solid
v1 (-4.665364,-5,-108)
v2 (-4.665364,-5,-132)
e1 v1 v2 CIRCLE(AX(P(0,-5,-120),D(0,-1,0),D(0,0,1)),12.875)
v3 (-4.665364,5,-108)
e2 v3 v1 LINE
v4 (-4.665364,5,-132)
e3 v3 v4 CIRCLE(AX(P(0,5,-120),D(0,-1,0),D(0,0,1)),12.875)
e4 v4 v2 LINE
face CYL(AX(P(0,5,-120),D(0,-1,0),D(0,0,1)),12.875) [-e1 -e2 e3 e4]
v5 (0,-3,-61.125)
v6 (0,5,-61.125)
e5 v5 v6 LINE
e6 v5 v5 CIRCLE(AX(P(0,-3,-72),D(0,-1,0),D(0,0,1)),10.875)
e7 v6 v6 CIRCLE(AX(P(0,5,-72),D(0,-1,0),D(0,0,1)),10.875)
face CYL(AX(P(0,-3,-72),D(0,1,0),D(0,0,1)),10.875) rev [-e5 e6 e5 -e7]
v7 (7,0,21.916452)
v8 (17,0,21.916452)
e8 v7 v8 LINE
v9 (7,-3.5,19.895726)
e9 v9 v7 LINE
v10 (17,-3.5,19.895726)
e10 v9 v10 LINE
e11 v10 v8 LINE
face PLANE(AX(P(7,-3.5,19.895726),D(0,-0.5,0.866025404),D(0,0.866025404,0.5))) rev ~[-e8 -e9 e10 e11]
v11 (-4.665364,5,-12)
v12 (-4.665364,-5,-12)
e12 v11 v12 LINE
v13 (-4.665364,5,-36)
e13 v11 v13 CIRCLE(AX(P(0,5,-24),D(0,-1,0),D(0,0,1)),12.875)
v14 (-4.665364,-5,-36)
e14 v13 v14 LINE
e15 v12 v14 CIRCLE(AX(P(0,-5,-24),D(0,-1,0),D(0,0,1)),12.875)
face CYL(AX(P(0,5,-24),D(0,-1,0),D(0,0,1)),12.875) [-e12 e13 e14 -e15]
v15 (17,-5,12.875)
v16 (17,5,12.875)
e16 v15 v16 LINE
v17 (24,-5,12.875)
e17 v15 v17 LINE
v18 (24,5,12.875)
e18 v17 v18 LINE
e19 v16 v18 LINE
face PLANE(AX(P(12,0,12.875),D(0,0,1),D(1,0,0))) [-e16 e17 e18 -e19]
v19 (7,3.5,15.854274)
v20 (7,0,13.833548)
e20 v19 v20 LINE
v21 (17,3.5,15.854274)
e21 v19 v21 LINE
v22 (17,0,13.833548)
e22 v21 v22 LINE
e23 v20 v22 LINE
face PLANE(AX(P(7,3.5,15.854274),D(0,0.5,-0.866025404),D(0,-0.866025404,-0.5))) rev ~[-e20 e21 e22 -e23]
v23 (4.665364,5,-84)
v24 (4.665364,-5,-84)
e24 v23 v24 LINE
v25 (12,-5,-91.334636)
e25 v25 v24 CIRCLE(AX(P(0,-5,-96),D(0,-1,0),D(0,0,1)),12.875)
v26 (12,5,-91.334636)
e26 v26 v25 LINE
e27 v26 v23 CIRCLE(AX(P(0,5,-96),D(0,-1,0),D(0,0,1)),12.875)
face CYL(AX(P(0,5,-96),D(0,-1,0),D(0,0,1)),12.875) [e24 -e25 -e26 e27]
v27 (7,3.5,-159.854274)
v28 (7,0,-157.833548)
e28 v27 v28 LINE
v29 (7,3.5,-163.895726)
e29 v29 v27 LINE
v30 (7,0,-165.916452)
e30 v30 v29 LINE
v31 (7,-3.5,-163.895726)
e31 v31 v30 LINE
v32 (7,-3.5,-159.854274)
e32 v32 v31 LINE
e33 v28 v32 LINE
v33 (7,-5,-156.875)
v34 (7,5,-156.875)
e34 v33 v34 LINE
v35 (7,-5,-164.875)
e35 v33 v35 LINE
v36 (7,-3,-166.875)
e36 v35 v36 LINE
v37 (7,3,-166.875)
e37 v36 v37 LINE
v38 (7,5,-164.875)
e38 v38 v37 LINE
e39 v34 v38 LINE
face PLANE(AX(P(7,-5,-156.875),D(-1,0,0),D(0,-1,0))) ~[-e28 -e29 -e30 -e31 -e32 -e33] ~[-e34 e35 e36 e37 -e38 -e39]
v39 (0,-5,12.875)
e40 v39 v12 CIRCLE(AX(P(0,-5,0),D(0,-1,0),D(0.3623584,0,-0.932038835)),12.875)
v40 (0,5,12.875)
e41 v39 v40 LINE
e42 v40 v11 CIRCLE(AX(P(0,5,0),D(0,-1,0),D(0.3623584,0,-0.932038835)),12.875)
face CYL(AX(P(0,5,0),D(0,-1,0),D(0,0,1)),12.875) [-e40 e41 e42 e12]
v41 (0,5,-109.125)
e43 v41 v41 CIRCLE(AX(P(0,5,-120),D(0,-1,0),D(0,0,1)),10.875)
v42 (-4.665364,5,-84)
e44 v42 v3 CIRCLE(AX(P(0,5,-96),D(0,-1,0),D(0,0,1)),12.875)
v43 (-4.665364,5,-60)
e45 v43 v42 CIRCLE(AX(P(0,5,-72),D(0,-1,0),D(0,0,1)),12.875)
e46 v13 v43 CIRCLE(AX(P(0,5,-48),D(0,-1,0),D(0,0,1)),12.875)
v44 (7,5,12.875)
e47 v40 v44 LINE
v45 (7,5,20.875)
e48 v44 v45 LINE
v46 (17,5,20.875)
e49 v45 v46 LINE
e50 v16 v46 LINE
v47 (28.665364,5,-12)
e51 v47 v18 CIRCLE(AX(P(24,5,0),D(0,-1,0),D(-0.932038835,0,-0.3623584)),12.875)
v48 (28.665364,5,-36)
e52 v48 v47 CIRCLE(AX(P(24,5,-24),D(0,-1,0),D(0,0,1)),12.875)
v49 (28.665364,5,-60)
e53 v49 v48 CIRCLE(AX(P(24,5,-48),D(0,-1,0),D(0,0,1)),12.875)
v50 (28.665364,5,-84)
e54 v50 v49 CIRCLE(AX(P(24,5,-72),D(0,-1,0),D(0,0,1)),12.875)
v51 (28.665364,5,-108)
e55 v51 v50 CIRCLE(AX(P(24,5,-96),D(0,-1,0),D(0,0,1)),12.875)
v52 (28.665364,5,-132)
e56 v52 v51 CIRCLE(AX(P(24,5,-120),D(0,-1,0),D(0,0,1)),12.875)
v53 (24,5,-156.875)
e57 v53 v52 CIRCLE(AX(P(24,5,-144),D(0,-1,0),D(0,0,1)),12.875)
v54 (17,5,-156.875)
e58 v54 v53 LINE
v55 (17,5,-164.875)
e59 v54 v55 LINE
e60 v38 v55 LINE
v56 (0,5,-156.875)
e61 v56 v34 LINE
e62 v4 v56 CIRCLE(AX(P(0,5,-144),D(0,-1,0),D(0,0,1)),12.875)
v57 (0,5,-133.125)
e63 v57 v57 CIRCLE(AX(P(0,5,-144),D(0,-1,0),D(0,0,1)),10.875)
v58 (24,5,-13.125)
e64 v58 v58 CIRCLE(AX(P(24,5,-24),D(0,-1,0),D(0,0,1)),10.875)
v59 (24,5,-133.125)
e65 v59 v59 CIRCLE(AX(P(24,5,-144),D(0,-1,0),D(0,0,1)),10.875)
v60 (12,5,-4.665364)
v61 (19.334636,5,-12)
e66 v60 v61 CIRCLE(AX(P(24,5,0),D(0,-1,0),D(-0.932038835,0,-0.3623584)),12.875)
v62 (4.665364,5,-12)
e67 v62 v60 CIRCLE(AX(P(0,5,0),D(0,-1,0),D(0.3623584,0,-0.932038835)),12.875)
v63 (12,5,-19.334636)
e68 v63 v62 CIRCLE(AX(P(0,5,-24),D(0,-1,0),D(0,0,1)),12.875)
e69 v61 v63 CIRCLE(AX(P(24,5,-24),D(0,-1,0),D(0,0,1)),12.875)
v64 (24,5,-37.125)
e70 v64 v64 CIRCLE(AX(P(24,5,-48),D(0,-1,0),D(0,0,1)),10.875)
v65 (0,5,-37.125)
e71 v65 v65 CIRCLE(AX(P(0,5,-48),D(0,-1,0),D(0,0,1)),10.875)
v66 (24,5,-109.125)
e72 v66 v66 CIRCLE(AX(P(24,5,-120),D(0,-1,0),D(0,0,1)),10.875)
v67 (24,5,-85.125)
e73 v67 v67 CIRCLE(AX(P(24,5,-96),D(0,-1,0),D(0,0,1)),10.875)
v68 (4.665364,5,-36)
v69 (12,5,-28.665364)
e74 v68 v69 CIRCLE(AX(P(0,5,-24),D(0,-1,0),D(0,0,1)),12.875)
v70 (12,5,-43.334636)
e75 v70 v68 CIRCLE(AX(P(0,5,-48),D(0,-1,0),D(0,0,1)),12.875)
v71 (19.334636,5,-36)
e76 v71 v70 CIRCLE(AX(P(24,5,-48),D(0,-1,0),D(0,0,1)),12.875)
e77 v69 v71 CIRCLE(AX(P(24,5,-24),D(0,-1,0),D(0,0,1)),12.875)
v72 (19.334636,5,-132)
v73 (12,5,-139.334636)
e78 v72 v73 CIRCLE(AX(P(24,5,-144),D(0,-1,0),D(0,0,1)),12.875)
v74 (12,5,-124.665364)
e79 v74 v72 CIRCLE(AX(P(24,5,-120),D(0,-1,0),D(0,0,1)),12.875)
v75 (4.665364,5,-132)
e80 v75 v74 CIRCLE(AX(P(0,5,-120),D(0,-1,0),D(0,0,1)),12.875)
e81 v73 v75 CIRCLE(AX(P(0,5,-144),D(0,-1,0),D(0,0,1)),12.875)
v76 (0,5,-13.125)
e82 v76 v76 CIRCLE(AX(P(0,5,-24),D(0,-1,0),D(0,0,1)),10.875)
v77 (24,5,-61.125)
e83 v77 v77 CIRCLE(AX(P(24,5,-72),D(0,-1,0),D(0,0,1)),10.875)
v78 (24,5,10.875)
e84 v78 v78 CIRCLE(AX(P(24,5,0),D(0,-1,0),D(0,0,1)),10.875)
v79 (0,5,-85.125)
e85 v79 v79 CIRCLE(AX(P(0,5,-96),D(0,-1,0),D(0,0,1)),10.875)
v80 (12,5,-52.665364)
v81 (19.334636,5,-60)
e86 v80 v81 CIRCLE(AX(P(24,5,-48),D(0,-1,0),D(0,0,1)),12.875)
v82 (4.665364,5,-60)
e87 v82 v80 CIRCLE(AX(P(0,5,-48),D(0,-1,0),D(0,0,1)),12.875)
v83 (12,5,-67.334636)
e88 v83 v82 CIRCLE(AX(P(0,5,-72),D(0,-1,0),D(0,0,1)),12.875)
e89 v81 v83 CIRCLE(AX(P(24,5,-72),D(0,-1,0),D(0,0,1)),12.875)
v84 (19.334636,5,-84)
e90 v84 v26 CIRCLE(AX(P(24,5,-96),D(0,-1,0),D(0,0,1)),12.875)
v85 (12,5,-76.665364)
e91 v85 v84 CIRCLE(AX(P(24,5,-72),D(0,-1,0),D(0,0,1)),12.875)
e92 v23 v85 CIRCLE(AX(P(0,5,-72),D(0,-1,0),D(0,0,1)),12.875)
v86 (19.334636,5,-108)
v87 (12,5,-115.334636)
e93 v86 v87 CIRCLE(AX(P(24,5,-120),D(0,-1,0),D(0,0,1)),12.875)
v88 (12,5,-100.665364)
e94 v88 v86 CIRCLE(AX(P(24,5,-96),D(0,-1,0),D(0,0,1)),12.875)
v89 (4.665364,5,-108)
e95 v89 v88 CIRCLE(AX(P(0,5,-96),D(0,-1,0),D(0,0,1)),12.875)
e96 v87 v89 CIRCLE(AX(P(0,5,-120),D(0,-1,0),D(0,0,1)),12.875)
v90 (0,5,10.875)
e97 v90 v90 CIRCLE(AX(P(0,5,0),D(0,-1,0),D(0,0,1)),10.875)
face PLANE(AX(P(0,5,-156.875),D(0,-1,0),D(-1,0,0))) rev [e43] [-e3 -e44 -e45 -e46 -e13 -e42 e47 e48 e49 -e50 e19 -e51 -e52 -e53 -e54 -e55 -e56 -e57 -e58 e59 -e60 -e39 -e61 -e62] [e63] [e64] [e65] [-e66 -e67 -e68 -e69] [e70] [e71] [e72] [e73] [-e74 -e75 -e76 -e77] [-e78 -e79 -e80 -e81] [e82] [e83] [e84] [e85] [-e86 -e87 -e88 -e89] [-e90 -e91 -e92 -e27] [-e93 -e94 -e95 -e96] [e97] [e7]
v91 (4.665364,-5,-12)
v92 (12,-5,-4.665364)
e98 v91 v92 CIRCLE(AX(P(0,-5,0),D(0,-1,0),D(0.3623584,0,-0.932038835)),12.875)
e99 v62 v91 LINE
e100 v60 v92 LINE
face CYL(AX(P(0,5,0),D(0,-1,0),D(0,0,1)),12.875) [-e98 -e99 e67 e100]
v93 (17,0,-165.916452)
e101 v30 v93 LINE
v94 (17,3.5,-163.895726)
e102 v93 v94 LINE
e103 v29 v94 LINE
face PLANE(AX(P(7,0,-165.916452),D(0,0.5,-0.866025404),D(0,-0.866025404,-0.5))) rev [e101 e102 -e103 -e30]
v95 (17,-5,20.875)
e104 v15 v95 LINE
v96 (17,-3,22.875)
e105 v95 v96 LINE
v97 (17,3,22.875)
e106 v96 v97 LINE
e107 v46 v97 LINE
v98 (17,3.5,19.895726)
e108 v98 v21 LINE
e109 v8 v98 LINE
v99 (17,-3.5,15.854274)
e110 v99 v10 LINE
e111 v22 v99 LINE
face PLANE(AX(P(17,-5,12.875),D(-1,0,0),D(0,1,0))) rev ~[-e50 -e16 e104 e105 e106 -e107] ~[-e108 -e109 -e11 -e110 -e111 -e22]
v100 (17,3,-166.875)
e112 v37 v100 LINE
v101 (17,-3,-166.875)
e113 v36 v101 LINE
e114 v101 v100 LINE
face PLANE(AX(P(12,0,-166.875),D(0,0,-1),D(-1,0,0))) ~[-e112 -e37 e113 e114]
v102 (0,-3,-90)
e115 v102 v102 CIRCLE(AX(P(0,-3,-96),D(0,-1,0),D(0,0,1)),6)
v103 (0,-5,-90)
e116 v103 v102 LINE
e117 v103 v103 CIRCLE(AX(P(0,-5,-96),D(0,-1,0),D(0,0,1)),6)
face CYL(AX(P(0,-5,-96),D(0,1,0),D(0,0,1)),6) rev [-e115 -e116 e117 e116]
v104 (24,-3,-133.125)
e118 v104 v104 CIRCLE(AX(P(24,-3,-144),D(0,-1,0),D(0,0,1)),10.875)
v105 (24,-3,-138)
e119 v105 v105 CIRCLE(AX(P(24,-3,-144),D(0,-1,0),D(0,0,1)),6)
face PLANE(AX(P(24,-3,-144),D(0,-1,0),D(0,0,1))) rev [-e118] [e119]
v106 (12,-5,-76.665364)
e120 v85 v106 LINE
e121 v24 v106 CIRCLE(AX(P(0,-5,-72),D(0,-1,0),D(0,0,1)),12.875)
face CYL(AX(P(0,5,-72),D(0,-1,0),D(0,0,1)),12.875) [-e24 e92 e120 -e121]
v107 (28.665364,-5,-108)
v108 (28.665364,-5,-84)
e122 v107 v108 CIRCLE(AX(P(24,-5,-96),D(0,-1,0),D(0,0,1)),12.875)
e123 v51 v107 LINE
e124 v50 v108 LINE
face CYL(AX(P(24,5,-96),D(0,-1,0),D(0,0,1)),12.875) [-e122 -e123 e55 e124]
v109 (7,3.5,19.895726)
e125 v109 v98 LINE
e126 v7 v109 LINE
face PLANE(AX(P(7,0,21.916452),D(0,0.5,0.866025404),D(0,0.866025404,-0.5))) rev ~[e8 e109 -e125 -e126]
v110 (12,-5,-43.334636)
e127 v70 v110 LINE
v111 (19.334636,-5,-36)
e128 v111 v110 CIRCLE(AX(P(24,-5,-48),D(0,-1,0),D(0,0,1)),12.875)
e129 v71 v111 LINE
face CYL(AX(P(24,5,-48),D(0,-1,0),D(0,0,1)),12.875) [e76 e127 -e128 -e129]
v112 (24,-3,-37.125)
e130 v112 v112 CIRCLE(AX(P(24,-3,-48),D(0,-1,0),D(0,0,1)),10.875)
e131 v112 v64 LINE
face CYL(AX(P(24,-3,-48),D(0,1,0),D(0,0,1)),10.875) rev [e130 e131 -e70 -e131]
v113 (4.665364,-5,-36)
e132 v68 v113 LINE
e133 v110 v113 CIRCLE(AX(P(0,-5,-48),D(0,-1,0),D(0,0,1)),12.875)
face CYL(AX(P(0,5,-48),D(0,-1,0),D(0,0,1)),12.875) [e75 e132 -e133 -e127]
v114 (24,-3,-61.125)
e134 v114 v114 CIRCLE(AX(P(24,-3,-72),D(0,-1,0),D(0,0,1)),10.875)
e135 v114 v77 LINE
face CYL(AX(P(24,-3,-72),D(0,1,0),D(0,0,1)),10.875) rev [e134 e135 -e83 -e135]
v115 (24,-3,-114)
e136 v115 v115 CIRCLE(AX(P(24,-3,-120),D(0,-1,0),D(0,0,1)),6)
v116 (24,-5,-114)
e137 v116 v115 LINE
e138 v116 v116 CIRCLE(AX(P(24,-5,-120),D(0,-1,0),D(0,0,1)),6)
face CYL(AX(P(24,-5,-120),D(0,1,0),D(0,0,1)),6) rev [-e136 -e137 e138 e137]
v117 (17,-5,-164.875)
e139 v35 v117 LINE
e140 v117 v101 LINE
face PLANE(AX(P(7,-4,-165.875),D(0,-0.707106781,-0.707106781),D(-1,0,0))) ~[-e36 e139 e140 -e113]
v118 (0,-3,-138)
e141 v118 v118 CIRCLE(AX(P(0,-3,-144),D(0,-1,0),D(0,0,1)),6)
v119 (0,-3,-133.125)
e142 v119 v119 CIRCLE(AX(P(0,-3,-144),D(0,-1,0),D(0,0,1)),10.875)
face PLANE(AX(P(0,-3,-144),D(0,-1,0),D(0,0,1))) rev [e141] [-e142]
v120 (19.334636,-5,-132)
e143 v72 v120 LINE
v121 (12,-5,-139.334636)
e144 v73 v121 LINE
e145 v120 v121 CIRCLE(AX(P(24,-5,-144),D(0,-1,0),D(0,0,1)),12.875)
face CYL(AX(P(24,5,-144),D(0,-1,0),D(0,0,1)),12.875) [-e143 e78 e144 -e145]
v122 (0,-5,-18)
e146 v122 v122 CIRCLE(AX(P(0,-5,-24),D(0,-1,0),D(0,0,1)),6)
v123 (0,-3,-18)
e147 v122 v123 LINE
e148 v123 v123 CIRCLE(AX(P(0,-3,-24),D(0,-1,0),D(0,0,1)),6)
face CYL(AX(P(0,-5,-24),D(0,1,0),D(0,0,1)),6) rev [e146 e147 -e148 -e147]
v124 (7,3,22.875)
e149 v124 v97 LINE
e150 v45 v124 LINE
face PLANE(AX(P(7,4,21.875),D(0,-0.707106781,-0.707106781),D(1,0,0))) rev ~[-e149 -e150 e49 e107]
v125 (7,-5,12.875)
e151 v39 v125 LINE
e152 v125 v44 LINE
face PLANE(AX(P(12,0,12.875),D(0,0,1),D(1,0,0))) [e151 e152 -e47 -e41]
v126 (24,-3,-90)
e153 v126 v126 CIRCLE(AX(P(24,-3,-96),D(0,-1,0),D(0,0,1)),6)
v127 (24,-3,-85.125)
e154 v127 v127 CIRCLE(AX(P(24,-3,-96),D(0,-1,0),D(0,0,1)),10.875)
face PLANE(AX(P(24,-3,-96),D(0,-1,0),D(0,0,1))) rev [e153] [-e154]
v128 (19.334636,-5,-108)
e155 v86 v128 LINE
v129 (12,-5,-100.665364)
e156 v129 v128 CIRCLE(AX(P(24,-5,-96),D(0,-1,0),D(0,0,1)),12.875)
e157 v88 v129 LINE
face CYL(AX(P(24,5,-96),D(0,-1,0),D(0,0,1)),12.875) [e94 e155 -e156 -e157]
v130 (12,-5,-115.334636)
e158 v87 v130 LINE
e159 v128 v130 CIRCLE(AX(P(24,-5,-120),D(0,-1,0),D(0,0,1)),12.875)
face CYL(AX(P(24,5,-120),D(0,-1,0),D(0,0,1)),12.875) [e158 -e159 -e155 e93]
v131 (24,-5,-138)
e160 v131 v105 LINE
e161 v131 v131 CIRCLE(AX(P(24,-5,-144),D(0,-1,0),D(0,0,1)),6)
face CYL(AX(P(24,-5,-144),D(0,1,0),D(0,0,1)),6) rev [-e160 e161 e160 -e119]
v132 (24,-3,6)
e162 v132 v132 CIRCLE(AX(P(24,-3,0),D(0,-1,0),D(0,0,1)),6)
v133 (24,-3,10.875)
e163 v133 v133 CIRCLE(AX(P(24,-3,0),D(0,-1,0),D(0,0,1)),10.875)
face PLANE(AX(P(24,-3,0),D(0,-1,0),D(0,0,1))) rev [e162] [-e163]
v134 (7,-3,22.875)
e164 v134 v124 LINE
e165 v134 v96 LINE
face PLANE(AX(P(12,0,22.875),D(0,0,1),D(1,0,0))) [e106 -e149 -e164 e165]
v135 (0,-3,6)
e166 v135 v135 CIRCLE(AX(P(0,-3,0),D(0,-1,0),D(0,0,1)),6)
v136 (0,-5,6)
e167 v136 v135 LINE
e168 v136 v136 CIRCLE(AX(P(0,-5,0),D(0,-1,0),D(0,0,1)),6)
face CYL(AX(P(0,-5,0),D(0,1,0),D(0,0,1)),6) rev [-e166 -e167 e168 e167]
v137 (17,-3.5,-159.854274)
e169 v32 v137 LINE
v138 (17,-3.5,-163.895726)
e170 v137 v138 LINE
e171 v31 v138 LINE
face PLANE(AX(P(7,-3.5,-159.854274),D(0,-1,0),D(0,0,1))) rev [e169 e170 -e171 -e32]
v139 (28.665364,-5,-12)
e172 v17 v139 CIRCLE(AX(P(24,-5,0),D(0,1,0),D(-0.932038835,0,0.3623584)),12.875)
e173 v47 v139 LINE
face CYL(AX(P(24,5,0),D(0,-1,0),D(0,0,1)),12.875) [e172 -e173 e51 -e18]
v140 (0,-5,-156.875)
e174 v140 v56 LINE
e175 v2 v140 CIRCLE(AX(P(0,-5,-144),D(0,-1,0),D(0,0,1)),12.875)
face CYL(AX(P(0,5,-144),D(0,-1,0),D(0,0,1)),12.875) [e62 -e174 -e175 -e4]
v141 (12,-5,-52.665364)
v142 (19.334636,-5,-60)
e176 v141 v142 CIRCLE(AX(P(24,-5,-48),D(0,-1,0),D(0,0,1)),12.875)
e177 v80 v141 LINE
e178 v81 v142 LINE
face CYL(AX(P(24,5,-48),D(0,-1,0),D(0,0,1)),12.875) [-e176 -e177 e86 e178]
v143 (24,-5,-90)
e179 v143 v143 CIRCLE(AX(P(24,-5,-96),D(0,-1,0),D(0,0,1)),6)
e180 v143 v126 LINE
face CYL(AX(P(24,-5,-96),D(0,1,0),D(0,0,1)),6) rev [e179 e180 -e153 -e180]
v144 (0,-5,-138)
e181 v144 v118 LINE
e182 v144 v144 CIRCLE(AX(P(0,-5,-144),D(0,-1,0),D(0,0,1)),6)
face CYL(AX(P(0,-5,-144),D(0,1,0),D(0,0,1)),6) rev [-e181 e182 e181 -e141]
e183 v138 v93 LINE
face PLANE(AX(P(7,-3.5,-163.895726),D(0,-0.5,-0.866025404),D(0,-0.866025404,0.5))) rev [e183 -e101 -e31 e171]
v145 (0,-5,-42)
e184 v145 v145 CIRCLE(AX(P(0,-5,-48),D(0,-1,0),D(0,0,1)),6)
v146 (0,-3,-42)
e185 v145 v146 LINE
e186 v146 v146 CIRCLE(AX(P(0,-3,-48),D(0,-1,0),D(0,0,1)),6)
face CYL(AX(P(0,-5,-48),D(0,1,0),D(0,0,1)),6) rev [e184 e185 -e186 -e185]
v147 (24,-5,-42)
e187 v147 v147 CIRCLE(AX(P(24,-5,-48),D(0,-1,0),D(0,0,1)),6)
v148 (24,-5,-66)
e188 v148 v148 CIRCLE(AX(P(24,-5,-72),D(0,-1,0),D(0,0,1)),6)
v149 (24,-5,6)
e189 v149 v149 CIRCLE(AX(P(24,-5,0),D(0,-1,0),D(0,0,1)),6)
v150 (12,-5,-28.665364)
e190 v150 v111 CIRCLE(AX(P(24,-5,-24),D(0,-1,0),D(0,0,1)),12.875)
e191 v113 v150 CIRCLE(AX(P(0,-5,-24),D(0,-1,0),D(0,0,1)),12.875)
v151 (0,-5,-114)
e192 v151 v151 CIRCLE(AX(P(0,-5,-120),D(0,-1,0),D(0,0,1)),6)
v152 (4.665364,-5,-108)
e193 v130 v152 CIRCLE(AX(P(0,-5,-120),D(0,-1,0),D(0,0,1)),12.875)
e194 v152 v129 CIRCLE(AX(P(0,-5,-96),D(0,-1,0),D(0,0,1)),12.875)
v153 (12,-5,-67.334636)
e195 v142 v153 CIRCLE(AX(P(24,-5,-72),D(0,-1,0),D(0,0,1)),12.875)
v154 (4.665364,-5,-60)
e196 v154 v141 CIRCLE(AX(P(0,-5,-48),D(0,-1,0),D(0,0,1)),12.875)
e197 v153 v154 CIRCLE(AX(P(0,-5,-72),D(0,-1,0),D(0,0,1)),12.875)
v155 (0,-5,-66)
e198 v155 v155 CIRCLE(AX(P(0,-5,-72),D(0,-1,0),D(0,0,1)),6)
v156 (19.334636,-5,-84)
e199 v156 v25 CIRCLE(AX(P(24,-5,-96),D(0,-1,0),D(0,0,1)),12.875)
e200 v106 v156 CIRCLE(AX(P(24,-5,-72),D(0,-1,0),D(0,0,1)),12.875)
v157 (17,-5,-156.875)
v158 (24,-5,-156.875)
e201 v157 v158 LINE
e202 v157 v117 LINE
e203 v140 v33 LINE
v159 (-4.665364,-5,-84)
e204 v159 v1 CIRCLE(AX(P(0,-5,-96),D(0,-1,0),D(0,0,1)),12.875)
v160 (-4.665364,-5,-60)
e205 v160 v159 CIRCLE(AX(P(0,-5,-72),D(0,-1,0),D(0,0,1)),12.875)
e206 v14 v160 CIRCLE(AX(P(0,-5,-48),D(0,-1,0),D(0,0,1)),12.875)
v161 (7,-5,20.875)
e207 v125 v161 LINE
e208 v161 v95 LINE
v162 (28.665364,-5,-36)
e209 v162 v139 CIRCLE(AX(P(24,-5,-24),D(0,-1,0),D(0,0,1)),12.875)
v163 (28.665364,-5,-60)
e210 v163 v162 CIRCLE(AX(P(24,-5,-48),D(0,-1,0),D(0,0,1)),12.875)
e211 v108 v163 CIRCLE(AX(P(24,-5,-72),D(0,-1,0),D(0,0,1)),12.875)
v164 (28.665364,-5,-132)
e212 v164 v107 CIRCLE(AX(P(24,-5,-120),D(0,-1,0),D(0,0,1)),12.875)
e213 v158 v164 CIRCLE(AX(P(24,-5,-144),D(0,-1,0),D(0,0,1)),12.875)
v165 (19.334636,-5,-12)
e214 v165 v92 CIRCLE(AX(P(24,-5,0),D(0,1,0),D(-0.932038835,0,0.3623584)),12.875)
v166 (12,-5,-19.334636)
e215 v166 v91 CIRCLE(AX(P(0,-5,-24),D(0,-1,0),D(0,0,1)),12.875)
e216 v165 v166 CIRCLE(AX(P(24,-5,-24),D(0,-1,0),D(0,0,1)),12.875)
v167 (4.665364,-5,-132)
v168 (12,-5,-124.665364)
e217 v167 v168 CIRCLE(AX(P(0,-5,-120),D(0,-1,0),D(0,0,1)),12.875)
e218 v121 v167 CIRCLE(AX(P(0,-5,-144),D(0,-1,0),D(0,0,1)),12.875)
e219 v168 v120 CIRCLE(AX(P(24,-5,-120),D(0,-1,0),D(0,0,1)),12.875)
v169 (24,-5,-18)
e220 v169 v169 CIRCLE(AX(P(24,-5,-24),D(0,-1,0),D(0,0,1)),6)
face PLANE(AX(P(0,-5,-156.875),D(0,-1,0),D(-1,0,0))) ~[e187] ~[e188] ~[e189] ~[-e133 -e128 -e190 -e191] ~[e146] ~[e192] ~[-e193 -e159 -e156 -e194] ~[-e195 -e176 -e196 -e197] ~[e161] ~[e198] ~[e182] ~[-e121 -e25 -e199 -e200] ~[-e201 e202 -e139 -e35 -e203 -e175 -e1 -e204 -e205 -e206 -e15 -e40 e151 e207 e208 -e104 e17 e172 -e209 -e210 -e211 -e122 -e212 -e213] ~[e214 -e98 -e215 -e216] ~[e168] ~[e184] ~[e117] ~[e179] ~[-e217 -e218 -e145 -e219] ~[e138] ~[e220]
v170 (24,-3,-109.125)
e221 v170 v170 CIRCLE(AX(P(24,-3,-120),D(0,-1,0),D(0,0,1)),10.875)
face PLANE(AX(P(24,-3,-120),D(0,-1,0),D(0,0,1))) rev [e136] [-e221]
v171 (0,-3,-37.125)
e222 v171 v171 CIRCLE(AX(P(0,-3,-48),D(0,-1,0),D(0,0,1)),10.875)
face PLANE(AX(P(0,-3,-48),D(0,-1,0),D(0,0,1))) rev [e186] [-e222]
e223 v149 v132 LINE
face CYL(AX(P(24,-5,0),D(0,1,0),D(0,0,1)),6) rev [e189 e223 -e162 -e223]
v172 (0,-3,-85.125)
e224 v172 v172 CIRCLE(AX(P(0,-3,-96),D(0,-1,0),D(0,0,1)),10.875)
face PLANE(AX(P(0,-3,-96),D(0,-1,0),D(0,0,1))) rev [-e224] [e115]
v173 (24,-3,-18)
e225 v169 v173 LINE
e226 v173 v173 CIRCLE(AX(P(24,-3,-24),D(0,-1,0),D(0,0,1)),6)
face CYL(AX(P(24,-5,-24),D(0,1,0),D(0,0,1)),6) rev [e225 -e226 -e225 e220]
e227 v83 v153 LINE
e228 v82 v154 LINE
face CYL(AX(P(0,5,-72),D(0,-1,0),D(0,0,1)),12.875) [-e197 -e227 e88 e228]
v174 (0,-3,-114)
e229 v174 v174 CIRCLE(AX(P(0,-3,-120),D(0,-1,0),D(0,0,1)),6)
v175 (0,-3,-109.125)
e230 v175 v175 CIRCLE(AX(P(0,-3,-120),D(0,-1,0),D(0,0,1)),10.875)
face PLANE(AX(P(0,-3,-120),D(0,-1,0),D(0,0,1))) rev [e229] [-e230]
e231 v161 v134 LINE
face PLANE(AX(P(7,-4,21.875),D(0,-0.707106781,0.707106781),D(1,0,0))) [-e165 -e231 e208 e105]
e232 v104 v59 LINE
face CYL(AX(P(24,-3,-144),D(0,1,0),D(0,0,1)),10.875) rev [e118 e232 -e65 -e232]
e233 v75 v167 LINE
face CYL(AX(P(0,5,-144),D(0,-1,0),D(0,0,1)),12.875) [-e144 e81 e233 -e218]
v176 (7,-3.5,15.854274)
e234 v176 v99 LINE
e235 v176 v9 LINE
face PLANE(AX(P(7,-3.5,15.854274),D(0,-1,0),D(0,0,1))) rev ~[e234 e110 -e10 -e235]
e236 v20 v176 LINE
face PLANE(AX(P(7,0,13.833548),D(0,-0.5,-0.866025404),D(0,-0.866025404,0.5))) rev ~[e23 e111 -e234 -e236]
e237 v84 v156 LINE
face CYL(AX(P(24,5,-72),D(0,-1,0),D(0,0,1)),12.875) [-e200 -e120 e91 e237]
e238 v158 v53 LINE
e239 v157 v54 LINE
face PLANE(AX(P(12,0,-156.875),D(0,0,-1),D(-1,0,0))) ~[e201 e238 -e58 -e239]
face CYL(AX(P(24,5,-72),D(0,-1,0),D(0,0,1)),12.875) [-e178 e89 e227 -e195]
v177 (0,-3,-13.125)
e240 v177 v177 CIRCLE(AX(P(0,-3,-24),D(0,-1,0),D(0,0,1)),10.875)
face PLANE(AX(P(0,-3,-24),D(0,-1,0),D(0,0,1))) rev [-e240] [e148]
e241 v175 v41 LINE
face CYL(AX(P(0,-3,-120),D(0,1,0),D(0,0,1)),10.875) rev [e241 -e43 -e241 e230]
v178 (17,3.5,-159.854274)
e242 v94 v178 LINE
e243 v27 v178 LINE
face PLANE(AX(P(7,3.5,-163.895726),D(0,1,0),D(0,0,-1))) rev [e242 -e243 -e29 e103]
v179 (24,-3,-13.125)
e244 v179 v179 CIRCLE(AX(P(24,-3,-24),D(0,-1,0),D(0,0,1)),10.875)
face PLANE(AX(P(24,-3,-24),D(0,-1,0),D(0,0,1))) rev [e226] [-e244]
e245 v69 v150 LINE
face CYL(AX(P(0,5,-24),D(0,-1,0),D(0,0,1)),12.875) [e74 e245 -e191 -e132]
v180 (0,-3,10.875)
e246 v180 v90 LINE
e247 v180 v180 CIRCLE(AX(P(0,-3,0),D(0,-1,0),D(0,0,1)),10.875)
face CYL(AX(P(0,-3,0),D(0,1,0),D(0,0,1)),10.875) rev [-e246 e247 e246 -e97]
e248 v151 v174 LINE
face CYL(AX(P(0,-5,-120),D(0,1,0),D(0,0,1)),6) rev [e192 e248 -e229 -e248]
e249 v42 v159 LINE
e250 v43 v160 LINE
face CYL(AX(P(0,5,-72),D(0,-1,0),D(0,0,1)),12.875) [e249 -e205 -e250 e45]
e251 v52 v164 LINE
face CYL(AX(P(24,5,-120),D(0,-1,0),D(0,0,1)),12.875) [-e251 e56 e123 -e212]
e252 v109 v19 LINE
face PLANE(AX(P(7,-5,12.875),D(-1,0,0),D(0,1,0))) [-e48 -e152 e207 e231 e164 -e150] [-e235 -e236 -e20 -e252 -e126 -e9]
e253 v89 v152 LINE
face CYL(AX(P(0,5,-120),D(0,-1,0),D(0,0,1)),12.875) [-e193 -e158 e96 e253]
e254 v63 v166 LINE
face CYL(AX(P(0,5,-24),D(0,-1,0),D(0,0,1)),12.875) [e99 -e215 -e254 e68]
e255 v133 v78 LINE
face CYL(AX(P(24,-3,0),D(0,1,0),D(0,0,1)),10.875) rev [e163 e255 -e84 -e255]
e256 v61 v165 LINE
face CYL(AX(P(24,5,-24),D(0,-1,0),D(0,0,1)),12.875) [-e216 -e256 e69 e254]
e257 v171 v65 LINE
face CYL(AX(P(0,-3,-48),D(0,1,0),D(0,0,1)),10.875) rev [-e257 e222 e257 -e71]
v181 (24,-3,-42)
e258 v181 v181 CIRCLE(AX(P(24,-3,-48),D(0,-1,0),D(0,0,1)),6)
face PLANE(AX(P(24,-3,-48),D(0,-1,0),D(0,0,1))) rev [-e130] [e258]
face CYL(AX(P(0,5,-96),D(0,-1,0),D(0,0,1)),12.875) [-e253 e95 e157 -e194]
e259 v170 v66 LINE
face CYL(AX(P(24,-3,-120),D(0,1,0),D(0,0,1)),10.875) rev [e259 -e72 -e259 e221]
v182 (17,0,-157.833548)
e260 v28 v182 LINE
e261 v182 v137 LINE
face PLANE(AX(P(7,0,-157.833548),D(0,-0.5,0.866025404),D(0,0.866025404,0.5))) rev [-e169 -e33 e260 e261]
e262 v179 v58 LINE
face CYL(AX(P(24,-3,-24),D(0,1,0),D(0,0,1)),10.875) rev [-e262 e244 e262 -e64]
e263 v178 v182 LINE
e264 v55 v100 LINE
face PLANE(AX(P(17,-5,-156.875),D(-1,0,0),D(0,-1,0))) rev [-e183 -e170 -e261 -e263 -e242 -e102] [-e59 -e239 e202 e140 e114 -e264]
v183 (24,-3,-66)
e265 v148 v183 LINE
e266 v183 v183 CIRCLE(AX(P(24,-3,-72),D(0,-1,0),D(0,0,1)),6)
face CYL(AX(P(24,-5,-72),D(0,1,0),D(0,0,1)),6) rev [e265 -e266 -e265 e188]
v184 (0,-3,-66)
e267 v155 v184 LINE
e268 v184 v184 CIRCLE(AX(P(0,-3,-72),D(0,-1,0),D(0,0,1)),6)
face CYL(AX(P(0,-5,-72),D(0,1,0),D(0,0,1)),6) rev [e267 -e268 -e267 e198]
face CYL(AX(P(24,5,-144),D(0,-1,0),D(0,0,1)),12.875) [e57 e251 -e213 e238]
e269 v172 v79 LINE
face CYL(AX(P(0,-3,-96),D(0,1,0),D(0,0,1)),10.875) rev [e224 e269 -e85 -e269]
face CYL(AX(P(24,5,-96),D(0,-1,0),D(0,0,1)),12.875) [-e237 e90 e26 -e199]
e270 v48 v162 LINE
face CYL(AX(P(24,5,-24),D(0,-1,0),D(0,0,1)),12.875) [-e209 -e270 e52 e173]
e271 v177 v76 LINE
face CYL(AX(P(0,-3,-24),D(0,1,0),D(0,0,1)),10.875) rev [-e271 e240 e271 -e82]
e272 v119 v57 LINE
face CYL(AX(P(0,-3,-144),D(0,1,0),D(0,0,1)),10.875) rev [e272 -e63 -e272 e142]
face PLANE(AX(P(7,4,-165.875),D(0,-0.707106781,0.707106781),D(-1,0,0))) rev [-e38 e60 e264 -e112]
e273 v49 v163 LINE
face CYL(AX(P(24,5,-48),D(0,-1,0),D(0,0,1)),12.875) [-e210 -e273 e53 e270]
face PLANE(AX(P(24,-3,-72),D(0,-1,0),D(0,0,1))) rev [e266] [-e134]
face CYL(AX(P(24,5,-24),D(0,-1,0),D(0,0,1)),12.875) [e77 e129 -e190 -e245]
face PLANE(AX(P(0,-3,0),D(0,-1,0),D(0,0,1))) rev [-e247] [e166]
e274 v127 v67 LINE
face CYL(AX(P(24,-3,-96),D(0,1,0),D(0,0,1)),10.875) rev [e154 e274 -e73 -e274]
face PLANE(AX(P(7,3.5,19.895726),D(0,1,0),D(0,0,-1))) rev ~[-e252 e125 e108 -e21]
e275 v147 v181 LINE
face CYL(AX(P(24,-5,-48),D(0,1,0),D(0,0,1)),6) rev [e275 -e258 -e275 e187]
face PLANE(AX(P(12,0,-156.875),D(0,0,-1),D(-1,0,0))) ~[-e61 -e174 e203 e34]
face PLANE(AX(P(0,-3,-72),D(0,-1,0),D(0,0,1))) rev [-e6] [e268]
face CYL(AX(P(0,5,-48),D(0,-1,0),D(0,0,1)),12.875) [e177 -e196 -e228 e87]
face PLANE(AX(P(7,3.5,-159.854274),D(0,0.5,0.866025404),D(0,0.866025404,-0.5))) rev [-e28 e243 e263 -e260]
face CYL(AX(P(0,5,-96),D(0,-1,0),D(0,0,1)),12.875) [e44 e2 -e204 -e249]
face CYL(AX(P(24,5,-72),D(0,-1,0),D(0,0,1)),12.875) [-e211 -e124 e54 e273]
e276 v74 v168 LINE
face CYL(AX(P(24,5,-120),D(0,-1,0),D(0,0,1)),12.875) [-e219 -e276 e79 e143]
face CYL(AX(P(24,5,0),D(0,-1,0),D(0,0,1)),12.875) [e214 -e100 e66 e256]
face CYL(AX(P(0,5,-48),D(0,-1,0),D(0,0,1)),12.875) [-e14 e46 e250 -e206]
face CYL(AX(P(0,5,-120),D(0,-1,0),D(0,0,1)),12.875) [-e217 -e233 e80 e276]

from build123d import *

# Parameters (mm, degrees)
LPATTERN1_COUNT          = 7
LPATTERN1_PITCH          = 24
LPATTERN2_COUNT          = 2
LPATTERN2_PITCH          = 24
BOSS_EXTRUDE1_REACH      = 175.781
SKETCH4_W                = 24
SKETCH4_H                = 10
SKETCH5_W                = 10
SKETCH5_H                = 10
BOSS_EXTRUDE2_DEPTH      = 10
CUT_EXTRUDE1_DEPTH       = 10
CHAMFER3_SIZE            = 2
CHAMFER3_OF_MIRROR2_SIZE = 2


with BuildPart() as part:
    # Sketch1 → Revolve1 (revolve)
    with BuildSketch(Plane(origin=(0, 0, 0), x_dir=(0, 0, -1), z_dir=(1, 0, 0))):
        Polygon((-12.875, 5), (-12.875, -5), (-6, -5), (-6, -3), (-10.875, -3), (-10.875, 5), align=None)
    revolve1 = revolve(axis=Axis((0, 27.077205882, 0), (0, -1, 0)))

    # LPattern1: Revolve1 ×7
    with Locations(*[(0, 0, -i * LPATTERN1_PITCH) for i in range(1, LPATTERN1_COUNT)]):
        add(revolve1)

    # LPattern2: Revolve1 ×2
    with Locations(*[(i * LPATTERN2_PITCH, 0, 0) for i in range(1, LPATTERN2_COUNT)]):
        add(revolve1)

    # LPattern2 copy 1 sketch → LPattern2 copy 1 (revolve)
    with BuildSketch(Plane(origin=(24, 0, -24), x_dir=(0, 0, -1), z_dir=(1, 0, 0))):
        Polygon((-12.875, 5), (-12.875, -5), (-6, -5), (-6, -3), (-10.875, -3), (-10.875, 5), align=None)
    revolve(axis=Axis((24, 27.077205882, -24), (0, -1, 0)))

    # LPattern2 copy 2 sketch → LPattern2 copy 2 (revolve)
    with BuildSketch(Plane(origin=(24, 0, -48), x_dir=(0, 0, -1), z_dir=(1, 0, 0))):
        Polygon((-12.875, 5), (-12.875, -5), (-6, -5), (-6, -3), (-10.875, -3), (-10.875, 5), align=None)
    revolve(axis=Axis((24, 27.077205882, -48), (0, -1, 0)))

    # LPattern2 copy 3 sketch → LPattern2 copy 3 (revolve)
    with BuildSketch(Plane(origin=(24, 0, -72), x_dir=(0, 0, -1), z_dir=(1, 0, 0))):
        Polygon((-12.875, 5), (-12.875, -5), (-6, -5), (-6, -3), (-10.875, -3), (-10.875, 5), align=None)
    revolve(axis=Axis((24, 27.077205882, -72), (0, -1, 0)))

    # LPattern2 copy 4 sketch → LPattern2 copy 4 (revolve)
    with BuildSketch(Plane(origin=(24, 0, -96), x_dir=(0, 0, -1), z_dir=(1, 0, 0))):
        Polygon((-12.875, 5), (-12.875, -5), (-6, -5), (-6, -3), (-10.875, -3), (-10.875, 5), align=None)
    revolve(axis=Axis((24, 27.077205882, -96), (0, -1, 0)))

    # LPattern2 copy 5 sketch → LPattern2 copy 5 (revolve)
    with BuildSketch(Plane(origin=(24, 0, -120), x_dir=(0, 0, -1), z_dir=(1, 0, 0))):
        Polygon((-12.875, 5), (-12.875, -5), (-6, -5), (-6, -3), (-10.875, -3), (-10.875, 5), align=None)
    revolve(axis=Axis((24, 27.077205882, -120), (0, -1, 0)))

    # LPattern2 copy 6 sketch → LPattern2 copy 6 (revolve)
    with BuildSketch(Plane(origin=(24, 0, -144), x_dir=(0, 0, -1), z_dir=(1, 0, 0))):
        Polygon((-12.875, 5), (-12.875, -5), (-6, -5), (-6, -3), (-10.875, -3), (-10.875, 5), align=None)
    revolve(axis=Axis((24, 27.077205882, -144), (0, -1, 0)))

    # Sketch4 → Boss-Extrude1 (add, up to next)
    with BuildSketch(Plane.XY.offset(12.875), mode=Mode.PRIVATE) as boss_extrude1_sk1:
        with Locations((12, 0)):
            Rectangle(SKETCH4_W, SKETCH4_H)
    boss_extrude1_tool1 = extrude(boss_extrude1_sk1.sketch, amount=-BOSS_EXTRUDE1_REACH, mode=Mode.PRIVATE) - part.part
    boss_extrude1 = boss_extrude1_tool1.solids().sort_by_distance((12, 0, 12.875))[0]
    add(boss_extrude1)

    # Sketch5 → Boss-Extrude2 (add)
    with BuildSketch(Plane.XY.offset(12.875)):
        with Locations((12, 0)):
            Rectangle(SKETCH5_W, SKETCH5_H)
    boss_extrude2 = extrude(amount=BOSS_EXTRUDE2_DEPTH)

    # Sketch8 → Cut-Extrude1 (cut)
    with BuildSketch(Plane.ZY.offset(-7)):
        Polygon((19.895725942, -3.5), (21.916451884, 0), (19.895725942, 3.5), (15.854274058, 3.5), (13.833548116, 0), (15.854274058, -3.5), align=None)
    cut_extrude1 = extrude(amount=-CUT_EXTRUDE1_DEPTH, mode=Mode.SUBTRACT)

    # Chamfer3
    chamfer3_edges = [part.edges().sort_by_distance(p)[0] for p in [
        (12, -5, 22.875),
        (12, 5, 22.875),
    ]]
    chamfer(chamfer3_edges, length=CHAMFER3_SIZE)

    # Mirror2: Boss-Extrude1, Boss-Extrude2, Cut-Extrude1 across plane
    add(boss_extrude1.mirror(Plane.XY.offset(-72)))
    add(boss_extrude2.mirror(Plane.XY.offset(-72)))
    add(cut_extrude1.mirror(Plane.XY.offset(-72)), mode=Mode.SUBTRACT)

    # Chamfer3 of Mirror2
    chamfer3_of_mirror2_edges = [part.edges().sort_by_distance(p)[0] for p in [
        (12, -5, -166.875),
        (12, 5, -166.875),
    ]]
    chamfer(chamfer3_of_mirror2_edges, length=CHAMFER3_OF_MIRROR2_SIZE)


solid = part.part
